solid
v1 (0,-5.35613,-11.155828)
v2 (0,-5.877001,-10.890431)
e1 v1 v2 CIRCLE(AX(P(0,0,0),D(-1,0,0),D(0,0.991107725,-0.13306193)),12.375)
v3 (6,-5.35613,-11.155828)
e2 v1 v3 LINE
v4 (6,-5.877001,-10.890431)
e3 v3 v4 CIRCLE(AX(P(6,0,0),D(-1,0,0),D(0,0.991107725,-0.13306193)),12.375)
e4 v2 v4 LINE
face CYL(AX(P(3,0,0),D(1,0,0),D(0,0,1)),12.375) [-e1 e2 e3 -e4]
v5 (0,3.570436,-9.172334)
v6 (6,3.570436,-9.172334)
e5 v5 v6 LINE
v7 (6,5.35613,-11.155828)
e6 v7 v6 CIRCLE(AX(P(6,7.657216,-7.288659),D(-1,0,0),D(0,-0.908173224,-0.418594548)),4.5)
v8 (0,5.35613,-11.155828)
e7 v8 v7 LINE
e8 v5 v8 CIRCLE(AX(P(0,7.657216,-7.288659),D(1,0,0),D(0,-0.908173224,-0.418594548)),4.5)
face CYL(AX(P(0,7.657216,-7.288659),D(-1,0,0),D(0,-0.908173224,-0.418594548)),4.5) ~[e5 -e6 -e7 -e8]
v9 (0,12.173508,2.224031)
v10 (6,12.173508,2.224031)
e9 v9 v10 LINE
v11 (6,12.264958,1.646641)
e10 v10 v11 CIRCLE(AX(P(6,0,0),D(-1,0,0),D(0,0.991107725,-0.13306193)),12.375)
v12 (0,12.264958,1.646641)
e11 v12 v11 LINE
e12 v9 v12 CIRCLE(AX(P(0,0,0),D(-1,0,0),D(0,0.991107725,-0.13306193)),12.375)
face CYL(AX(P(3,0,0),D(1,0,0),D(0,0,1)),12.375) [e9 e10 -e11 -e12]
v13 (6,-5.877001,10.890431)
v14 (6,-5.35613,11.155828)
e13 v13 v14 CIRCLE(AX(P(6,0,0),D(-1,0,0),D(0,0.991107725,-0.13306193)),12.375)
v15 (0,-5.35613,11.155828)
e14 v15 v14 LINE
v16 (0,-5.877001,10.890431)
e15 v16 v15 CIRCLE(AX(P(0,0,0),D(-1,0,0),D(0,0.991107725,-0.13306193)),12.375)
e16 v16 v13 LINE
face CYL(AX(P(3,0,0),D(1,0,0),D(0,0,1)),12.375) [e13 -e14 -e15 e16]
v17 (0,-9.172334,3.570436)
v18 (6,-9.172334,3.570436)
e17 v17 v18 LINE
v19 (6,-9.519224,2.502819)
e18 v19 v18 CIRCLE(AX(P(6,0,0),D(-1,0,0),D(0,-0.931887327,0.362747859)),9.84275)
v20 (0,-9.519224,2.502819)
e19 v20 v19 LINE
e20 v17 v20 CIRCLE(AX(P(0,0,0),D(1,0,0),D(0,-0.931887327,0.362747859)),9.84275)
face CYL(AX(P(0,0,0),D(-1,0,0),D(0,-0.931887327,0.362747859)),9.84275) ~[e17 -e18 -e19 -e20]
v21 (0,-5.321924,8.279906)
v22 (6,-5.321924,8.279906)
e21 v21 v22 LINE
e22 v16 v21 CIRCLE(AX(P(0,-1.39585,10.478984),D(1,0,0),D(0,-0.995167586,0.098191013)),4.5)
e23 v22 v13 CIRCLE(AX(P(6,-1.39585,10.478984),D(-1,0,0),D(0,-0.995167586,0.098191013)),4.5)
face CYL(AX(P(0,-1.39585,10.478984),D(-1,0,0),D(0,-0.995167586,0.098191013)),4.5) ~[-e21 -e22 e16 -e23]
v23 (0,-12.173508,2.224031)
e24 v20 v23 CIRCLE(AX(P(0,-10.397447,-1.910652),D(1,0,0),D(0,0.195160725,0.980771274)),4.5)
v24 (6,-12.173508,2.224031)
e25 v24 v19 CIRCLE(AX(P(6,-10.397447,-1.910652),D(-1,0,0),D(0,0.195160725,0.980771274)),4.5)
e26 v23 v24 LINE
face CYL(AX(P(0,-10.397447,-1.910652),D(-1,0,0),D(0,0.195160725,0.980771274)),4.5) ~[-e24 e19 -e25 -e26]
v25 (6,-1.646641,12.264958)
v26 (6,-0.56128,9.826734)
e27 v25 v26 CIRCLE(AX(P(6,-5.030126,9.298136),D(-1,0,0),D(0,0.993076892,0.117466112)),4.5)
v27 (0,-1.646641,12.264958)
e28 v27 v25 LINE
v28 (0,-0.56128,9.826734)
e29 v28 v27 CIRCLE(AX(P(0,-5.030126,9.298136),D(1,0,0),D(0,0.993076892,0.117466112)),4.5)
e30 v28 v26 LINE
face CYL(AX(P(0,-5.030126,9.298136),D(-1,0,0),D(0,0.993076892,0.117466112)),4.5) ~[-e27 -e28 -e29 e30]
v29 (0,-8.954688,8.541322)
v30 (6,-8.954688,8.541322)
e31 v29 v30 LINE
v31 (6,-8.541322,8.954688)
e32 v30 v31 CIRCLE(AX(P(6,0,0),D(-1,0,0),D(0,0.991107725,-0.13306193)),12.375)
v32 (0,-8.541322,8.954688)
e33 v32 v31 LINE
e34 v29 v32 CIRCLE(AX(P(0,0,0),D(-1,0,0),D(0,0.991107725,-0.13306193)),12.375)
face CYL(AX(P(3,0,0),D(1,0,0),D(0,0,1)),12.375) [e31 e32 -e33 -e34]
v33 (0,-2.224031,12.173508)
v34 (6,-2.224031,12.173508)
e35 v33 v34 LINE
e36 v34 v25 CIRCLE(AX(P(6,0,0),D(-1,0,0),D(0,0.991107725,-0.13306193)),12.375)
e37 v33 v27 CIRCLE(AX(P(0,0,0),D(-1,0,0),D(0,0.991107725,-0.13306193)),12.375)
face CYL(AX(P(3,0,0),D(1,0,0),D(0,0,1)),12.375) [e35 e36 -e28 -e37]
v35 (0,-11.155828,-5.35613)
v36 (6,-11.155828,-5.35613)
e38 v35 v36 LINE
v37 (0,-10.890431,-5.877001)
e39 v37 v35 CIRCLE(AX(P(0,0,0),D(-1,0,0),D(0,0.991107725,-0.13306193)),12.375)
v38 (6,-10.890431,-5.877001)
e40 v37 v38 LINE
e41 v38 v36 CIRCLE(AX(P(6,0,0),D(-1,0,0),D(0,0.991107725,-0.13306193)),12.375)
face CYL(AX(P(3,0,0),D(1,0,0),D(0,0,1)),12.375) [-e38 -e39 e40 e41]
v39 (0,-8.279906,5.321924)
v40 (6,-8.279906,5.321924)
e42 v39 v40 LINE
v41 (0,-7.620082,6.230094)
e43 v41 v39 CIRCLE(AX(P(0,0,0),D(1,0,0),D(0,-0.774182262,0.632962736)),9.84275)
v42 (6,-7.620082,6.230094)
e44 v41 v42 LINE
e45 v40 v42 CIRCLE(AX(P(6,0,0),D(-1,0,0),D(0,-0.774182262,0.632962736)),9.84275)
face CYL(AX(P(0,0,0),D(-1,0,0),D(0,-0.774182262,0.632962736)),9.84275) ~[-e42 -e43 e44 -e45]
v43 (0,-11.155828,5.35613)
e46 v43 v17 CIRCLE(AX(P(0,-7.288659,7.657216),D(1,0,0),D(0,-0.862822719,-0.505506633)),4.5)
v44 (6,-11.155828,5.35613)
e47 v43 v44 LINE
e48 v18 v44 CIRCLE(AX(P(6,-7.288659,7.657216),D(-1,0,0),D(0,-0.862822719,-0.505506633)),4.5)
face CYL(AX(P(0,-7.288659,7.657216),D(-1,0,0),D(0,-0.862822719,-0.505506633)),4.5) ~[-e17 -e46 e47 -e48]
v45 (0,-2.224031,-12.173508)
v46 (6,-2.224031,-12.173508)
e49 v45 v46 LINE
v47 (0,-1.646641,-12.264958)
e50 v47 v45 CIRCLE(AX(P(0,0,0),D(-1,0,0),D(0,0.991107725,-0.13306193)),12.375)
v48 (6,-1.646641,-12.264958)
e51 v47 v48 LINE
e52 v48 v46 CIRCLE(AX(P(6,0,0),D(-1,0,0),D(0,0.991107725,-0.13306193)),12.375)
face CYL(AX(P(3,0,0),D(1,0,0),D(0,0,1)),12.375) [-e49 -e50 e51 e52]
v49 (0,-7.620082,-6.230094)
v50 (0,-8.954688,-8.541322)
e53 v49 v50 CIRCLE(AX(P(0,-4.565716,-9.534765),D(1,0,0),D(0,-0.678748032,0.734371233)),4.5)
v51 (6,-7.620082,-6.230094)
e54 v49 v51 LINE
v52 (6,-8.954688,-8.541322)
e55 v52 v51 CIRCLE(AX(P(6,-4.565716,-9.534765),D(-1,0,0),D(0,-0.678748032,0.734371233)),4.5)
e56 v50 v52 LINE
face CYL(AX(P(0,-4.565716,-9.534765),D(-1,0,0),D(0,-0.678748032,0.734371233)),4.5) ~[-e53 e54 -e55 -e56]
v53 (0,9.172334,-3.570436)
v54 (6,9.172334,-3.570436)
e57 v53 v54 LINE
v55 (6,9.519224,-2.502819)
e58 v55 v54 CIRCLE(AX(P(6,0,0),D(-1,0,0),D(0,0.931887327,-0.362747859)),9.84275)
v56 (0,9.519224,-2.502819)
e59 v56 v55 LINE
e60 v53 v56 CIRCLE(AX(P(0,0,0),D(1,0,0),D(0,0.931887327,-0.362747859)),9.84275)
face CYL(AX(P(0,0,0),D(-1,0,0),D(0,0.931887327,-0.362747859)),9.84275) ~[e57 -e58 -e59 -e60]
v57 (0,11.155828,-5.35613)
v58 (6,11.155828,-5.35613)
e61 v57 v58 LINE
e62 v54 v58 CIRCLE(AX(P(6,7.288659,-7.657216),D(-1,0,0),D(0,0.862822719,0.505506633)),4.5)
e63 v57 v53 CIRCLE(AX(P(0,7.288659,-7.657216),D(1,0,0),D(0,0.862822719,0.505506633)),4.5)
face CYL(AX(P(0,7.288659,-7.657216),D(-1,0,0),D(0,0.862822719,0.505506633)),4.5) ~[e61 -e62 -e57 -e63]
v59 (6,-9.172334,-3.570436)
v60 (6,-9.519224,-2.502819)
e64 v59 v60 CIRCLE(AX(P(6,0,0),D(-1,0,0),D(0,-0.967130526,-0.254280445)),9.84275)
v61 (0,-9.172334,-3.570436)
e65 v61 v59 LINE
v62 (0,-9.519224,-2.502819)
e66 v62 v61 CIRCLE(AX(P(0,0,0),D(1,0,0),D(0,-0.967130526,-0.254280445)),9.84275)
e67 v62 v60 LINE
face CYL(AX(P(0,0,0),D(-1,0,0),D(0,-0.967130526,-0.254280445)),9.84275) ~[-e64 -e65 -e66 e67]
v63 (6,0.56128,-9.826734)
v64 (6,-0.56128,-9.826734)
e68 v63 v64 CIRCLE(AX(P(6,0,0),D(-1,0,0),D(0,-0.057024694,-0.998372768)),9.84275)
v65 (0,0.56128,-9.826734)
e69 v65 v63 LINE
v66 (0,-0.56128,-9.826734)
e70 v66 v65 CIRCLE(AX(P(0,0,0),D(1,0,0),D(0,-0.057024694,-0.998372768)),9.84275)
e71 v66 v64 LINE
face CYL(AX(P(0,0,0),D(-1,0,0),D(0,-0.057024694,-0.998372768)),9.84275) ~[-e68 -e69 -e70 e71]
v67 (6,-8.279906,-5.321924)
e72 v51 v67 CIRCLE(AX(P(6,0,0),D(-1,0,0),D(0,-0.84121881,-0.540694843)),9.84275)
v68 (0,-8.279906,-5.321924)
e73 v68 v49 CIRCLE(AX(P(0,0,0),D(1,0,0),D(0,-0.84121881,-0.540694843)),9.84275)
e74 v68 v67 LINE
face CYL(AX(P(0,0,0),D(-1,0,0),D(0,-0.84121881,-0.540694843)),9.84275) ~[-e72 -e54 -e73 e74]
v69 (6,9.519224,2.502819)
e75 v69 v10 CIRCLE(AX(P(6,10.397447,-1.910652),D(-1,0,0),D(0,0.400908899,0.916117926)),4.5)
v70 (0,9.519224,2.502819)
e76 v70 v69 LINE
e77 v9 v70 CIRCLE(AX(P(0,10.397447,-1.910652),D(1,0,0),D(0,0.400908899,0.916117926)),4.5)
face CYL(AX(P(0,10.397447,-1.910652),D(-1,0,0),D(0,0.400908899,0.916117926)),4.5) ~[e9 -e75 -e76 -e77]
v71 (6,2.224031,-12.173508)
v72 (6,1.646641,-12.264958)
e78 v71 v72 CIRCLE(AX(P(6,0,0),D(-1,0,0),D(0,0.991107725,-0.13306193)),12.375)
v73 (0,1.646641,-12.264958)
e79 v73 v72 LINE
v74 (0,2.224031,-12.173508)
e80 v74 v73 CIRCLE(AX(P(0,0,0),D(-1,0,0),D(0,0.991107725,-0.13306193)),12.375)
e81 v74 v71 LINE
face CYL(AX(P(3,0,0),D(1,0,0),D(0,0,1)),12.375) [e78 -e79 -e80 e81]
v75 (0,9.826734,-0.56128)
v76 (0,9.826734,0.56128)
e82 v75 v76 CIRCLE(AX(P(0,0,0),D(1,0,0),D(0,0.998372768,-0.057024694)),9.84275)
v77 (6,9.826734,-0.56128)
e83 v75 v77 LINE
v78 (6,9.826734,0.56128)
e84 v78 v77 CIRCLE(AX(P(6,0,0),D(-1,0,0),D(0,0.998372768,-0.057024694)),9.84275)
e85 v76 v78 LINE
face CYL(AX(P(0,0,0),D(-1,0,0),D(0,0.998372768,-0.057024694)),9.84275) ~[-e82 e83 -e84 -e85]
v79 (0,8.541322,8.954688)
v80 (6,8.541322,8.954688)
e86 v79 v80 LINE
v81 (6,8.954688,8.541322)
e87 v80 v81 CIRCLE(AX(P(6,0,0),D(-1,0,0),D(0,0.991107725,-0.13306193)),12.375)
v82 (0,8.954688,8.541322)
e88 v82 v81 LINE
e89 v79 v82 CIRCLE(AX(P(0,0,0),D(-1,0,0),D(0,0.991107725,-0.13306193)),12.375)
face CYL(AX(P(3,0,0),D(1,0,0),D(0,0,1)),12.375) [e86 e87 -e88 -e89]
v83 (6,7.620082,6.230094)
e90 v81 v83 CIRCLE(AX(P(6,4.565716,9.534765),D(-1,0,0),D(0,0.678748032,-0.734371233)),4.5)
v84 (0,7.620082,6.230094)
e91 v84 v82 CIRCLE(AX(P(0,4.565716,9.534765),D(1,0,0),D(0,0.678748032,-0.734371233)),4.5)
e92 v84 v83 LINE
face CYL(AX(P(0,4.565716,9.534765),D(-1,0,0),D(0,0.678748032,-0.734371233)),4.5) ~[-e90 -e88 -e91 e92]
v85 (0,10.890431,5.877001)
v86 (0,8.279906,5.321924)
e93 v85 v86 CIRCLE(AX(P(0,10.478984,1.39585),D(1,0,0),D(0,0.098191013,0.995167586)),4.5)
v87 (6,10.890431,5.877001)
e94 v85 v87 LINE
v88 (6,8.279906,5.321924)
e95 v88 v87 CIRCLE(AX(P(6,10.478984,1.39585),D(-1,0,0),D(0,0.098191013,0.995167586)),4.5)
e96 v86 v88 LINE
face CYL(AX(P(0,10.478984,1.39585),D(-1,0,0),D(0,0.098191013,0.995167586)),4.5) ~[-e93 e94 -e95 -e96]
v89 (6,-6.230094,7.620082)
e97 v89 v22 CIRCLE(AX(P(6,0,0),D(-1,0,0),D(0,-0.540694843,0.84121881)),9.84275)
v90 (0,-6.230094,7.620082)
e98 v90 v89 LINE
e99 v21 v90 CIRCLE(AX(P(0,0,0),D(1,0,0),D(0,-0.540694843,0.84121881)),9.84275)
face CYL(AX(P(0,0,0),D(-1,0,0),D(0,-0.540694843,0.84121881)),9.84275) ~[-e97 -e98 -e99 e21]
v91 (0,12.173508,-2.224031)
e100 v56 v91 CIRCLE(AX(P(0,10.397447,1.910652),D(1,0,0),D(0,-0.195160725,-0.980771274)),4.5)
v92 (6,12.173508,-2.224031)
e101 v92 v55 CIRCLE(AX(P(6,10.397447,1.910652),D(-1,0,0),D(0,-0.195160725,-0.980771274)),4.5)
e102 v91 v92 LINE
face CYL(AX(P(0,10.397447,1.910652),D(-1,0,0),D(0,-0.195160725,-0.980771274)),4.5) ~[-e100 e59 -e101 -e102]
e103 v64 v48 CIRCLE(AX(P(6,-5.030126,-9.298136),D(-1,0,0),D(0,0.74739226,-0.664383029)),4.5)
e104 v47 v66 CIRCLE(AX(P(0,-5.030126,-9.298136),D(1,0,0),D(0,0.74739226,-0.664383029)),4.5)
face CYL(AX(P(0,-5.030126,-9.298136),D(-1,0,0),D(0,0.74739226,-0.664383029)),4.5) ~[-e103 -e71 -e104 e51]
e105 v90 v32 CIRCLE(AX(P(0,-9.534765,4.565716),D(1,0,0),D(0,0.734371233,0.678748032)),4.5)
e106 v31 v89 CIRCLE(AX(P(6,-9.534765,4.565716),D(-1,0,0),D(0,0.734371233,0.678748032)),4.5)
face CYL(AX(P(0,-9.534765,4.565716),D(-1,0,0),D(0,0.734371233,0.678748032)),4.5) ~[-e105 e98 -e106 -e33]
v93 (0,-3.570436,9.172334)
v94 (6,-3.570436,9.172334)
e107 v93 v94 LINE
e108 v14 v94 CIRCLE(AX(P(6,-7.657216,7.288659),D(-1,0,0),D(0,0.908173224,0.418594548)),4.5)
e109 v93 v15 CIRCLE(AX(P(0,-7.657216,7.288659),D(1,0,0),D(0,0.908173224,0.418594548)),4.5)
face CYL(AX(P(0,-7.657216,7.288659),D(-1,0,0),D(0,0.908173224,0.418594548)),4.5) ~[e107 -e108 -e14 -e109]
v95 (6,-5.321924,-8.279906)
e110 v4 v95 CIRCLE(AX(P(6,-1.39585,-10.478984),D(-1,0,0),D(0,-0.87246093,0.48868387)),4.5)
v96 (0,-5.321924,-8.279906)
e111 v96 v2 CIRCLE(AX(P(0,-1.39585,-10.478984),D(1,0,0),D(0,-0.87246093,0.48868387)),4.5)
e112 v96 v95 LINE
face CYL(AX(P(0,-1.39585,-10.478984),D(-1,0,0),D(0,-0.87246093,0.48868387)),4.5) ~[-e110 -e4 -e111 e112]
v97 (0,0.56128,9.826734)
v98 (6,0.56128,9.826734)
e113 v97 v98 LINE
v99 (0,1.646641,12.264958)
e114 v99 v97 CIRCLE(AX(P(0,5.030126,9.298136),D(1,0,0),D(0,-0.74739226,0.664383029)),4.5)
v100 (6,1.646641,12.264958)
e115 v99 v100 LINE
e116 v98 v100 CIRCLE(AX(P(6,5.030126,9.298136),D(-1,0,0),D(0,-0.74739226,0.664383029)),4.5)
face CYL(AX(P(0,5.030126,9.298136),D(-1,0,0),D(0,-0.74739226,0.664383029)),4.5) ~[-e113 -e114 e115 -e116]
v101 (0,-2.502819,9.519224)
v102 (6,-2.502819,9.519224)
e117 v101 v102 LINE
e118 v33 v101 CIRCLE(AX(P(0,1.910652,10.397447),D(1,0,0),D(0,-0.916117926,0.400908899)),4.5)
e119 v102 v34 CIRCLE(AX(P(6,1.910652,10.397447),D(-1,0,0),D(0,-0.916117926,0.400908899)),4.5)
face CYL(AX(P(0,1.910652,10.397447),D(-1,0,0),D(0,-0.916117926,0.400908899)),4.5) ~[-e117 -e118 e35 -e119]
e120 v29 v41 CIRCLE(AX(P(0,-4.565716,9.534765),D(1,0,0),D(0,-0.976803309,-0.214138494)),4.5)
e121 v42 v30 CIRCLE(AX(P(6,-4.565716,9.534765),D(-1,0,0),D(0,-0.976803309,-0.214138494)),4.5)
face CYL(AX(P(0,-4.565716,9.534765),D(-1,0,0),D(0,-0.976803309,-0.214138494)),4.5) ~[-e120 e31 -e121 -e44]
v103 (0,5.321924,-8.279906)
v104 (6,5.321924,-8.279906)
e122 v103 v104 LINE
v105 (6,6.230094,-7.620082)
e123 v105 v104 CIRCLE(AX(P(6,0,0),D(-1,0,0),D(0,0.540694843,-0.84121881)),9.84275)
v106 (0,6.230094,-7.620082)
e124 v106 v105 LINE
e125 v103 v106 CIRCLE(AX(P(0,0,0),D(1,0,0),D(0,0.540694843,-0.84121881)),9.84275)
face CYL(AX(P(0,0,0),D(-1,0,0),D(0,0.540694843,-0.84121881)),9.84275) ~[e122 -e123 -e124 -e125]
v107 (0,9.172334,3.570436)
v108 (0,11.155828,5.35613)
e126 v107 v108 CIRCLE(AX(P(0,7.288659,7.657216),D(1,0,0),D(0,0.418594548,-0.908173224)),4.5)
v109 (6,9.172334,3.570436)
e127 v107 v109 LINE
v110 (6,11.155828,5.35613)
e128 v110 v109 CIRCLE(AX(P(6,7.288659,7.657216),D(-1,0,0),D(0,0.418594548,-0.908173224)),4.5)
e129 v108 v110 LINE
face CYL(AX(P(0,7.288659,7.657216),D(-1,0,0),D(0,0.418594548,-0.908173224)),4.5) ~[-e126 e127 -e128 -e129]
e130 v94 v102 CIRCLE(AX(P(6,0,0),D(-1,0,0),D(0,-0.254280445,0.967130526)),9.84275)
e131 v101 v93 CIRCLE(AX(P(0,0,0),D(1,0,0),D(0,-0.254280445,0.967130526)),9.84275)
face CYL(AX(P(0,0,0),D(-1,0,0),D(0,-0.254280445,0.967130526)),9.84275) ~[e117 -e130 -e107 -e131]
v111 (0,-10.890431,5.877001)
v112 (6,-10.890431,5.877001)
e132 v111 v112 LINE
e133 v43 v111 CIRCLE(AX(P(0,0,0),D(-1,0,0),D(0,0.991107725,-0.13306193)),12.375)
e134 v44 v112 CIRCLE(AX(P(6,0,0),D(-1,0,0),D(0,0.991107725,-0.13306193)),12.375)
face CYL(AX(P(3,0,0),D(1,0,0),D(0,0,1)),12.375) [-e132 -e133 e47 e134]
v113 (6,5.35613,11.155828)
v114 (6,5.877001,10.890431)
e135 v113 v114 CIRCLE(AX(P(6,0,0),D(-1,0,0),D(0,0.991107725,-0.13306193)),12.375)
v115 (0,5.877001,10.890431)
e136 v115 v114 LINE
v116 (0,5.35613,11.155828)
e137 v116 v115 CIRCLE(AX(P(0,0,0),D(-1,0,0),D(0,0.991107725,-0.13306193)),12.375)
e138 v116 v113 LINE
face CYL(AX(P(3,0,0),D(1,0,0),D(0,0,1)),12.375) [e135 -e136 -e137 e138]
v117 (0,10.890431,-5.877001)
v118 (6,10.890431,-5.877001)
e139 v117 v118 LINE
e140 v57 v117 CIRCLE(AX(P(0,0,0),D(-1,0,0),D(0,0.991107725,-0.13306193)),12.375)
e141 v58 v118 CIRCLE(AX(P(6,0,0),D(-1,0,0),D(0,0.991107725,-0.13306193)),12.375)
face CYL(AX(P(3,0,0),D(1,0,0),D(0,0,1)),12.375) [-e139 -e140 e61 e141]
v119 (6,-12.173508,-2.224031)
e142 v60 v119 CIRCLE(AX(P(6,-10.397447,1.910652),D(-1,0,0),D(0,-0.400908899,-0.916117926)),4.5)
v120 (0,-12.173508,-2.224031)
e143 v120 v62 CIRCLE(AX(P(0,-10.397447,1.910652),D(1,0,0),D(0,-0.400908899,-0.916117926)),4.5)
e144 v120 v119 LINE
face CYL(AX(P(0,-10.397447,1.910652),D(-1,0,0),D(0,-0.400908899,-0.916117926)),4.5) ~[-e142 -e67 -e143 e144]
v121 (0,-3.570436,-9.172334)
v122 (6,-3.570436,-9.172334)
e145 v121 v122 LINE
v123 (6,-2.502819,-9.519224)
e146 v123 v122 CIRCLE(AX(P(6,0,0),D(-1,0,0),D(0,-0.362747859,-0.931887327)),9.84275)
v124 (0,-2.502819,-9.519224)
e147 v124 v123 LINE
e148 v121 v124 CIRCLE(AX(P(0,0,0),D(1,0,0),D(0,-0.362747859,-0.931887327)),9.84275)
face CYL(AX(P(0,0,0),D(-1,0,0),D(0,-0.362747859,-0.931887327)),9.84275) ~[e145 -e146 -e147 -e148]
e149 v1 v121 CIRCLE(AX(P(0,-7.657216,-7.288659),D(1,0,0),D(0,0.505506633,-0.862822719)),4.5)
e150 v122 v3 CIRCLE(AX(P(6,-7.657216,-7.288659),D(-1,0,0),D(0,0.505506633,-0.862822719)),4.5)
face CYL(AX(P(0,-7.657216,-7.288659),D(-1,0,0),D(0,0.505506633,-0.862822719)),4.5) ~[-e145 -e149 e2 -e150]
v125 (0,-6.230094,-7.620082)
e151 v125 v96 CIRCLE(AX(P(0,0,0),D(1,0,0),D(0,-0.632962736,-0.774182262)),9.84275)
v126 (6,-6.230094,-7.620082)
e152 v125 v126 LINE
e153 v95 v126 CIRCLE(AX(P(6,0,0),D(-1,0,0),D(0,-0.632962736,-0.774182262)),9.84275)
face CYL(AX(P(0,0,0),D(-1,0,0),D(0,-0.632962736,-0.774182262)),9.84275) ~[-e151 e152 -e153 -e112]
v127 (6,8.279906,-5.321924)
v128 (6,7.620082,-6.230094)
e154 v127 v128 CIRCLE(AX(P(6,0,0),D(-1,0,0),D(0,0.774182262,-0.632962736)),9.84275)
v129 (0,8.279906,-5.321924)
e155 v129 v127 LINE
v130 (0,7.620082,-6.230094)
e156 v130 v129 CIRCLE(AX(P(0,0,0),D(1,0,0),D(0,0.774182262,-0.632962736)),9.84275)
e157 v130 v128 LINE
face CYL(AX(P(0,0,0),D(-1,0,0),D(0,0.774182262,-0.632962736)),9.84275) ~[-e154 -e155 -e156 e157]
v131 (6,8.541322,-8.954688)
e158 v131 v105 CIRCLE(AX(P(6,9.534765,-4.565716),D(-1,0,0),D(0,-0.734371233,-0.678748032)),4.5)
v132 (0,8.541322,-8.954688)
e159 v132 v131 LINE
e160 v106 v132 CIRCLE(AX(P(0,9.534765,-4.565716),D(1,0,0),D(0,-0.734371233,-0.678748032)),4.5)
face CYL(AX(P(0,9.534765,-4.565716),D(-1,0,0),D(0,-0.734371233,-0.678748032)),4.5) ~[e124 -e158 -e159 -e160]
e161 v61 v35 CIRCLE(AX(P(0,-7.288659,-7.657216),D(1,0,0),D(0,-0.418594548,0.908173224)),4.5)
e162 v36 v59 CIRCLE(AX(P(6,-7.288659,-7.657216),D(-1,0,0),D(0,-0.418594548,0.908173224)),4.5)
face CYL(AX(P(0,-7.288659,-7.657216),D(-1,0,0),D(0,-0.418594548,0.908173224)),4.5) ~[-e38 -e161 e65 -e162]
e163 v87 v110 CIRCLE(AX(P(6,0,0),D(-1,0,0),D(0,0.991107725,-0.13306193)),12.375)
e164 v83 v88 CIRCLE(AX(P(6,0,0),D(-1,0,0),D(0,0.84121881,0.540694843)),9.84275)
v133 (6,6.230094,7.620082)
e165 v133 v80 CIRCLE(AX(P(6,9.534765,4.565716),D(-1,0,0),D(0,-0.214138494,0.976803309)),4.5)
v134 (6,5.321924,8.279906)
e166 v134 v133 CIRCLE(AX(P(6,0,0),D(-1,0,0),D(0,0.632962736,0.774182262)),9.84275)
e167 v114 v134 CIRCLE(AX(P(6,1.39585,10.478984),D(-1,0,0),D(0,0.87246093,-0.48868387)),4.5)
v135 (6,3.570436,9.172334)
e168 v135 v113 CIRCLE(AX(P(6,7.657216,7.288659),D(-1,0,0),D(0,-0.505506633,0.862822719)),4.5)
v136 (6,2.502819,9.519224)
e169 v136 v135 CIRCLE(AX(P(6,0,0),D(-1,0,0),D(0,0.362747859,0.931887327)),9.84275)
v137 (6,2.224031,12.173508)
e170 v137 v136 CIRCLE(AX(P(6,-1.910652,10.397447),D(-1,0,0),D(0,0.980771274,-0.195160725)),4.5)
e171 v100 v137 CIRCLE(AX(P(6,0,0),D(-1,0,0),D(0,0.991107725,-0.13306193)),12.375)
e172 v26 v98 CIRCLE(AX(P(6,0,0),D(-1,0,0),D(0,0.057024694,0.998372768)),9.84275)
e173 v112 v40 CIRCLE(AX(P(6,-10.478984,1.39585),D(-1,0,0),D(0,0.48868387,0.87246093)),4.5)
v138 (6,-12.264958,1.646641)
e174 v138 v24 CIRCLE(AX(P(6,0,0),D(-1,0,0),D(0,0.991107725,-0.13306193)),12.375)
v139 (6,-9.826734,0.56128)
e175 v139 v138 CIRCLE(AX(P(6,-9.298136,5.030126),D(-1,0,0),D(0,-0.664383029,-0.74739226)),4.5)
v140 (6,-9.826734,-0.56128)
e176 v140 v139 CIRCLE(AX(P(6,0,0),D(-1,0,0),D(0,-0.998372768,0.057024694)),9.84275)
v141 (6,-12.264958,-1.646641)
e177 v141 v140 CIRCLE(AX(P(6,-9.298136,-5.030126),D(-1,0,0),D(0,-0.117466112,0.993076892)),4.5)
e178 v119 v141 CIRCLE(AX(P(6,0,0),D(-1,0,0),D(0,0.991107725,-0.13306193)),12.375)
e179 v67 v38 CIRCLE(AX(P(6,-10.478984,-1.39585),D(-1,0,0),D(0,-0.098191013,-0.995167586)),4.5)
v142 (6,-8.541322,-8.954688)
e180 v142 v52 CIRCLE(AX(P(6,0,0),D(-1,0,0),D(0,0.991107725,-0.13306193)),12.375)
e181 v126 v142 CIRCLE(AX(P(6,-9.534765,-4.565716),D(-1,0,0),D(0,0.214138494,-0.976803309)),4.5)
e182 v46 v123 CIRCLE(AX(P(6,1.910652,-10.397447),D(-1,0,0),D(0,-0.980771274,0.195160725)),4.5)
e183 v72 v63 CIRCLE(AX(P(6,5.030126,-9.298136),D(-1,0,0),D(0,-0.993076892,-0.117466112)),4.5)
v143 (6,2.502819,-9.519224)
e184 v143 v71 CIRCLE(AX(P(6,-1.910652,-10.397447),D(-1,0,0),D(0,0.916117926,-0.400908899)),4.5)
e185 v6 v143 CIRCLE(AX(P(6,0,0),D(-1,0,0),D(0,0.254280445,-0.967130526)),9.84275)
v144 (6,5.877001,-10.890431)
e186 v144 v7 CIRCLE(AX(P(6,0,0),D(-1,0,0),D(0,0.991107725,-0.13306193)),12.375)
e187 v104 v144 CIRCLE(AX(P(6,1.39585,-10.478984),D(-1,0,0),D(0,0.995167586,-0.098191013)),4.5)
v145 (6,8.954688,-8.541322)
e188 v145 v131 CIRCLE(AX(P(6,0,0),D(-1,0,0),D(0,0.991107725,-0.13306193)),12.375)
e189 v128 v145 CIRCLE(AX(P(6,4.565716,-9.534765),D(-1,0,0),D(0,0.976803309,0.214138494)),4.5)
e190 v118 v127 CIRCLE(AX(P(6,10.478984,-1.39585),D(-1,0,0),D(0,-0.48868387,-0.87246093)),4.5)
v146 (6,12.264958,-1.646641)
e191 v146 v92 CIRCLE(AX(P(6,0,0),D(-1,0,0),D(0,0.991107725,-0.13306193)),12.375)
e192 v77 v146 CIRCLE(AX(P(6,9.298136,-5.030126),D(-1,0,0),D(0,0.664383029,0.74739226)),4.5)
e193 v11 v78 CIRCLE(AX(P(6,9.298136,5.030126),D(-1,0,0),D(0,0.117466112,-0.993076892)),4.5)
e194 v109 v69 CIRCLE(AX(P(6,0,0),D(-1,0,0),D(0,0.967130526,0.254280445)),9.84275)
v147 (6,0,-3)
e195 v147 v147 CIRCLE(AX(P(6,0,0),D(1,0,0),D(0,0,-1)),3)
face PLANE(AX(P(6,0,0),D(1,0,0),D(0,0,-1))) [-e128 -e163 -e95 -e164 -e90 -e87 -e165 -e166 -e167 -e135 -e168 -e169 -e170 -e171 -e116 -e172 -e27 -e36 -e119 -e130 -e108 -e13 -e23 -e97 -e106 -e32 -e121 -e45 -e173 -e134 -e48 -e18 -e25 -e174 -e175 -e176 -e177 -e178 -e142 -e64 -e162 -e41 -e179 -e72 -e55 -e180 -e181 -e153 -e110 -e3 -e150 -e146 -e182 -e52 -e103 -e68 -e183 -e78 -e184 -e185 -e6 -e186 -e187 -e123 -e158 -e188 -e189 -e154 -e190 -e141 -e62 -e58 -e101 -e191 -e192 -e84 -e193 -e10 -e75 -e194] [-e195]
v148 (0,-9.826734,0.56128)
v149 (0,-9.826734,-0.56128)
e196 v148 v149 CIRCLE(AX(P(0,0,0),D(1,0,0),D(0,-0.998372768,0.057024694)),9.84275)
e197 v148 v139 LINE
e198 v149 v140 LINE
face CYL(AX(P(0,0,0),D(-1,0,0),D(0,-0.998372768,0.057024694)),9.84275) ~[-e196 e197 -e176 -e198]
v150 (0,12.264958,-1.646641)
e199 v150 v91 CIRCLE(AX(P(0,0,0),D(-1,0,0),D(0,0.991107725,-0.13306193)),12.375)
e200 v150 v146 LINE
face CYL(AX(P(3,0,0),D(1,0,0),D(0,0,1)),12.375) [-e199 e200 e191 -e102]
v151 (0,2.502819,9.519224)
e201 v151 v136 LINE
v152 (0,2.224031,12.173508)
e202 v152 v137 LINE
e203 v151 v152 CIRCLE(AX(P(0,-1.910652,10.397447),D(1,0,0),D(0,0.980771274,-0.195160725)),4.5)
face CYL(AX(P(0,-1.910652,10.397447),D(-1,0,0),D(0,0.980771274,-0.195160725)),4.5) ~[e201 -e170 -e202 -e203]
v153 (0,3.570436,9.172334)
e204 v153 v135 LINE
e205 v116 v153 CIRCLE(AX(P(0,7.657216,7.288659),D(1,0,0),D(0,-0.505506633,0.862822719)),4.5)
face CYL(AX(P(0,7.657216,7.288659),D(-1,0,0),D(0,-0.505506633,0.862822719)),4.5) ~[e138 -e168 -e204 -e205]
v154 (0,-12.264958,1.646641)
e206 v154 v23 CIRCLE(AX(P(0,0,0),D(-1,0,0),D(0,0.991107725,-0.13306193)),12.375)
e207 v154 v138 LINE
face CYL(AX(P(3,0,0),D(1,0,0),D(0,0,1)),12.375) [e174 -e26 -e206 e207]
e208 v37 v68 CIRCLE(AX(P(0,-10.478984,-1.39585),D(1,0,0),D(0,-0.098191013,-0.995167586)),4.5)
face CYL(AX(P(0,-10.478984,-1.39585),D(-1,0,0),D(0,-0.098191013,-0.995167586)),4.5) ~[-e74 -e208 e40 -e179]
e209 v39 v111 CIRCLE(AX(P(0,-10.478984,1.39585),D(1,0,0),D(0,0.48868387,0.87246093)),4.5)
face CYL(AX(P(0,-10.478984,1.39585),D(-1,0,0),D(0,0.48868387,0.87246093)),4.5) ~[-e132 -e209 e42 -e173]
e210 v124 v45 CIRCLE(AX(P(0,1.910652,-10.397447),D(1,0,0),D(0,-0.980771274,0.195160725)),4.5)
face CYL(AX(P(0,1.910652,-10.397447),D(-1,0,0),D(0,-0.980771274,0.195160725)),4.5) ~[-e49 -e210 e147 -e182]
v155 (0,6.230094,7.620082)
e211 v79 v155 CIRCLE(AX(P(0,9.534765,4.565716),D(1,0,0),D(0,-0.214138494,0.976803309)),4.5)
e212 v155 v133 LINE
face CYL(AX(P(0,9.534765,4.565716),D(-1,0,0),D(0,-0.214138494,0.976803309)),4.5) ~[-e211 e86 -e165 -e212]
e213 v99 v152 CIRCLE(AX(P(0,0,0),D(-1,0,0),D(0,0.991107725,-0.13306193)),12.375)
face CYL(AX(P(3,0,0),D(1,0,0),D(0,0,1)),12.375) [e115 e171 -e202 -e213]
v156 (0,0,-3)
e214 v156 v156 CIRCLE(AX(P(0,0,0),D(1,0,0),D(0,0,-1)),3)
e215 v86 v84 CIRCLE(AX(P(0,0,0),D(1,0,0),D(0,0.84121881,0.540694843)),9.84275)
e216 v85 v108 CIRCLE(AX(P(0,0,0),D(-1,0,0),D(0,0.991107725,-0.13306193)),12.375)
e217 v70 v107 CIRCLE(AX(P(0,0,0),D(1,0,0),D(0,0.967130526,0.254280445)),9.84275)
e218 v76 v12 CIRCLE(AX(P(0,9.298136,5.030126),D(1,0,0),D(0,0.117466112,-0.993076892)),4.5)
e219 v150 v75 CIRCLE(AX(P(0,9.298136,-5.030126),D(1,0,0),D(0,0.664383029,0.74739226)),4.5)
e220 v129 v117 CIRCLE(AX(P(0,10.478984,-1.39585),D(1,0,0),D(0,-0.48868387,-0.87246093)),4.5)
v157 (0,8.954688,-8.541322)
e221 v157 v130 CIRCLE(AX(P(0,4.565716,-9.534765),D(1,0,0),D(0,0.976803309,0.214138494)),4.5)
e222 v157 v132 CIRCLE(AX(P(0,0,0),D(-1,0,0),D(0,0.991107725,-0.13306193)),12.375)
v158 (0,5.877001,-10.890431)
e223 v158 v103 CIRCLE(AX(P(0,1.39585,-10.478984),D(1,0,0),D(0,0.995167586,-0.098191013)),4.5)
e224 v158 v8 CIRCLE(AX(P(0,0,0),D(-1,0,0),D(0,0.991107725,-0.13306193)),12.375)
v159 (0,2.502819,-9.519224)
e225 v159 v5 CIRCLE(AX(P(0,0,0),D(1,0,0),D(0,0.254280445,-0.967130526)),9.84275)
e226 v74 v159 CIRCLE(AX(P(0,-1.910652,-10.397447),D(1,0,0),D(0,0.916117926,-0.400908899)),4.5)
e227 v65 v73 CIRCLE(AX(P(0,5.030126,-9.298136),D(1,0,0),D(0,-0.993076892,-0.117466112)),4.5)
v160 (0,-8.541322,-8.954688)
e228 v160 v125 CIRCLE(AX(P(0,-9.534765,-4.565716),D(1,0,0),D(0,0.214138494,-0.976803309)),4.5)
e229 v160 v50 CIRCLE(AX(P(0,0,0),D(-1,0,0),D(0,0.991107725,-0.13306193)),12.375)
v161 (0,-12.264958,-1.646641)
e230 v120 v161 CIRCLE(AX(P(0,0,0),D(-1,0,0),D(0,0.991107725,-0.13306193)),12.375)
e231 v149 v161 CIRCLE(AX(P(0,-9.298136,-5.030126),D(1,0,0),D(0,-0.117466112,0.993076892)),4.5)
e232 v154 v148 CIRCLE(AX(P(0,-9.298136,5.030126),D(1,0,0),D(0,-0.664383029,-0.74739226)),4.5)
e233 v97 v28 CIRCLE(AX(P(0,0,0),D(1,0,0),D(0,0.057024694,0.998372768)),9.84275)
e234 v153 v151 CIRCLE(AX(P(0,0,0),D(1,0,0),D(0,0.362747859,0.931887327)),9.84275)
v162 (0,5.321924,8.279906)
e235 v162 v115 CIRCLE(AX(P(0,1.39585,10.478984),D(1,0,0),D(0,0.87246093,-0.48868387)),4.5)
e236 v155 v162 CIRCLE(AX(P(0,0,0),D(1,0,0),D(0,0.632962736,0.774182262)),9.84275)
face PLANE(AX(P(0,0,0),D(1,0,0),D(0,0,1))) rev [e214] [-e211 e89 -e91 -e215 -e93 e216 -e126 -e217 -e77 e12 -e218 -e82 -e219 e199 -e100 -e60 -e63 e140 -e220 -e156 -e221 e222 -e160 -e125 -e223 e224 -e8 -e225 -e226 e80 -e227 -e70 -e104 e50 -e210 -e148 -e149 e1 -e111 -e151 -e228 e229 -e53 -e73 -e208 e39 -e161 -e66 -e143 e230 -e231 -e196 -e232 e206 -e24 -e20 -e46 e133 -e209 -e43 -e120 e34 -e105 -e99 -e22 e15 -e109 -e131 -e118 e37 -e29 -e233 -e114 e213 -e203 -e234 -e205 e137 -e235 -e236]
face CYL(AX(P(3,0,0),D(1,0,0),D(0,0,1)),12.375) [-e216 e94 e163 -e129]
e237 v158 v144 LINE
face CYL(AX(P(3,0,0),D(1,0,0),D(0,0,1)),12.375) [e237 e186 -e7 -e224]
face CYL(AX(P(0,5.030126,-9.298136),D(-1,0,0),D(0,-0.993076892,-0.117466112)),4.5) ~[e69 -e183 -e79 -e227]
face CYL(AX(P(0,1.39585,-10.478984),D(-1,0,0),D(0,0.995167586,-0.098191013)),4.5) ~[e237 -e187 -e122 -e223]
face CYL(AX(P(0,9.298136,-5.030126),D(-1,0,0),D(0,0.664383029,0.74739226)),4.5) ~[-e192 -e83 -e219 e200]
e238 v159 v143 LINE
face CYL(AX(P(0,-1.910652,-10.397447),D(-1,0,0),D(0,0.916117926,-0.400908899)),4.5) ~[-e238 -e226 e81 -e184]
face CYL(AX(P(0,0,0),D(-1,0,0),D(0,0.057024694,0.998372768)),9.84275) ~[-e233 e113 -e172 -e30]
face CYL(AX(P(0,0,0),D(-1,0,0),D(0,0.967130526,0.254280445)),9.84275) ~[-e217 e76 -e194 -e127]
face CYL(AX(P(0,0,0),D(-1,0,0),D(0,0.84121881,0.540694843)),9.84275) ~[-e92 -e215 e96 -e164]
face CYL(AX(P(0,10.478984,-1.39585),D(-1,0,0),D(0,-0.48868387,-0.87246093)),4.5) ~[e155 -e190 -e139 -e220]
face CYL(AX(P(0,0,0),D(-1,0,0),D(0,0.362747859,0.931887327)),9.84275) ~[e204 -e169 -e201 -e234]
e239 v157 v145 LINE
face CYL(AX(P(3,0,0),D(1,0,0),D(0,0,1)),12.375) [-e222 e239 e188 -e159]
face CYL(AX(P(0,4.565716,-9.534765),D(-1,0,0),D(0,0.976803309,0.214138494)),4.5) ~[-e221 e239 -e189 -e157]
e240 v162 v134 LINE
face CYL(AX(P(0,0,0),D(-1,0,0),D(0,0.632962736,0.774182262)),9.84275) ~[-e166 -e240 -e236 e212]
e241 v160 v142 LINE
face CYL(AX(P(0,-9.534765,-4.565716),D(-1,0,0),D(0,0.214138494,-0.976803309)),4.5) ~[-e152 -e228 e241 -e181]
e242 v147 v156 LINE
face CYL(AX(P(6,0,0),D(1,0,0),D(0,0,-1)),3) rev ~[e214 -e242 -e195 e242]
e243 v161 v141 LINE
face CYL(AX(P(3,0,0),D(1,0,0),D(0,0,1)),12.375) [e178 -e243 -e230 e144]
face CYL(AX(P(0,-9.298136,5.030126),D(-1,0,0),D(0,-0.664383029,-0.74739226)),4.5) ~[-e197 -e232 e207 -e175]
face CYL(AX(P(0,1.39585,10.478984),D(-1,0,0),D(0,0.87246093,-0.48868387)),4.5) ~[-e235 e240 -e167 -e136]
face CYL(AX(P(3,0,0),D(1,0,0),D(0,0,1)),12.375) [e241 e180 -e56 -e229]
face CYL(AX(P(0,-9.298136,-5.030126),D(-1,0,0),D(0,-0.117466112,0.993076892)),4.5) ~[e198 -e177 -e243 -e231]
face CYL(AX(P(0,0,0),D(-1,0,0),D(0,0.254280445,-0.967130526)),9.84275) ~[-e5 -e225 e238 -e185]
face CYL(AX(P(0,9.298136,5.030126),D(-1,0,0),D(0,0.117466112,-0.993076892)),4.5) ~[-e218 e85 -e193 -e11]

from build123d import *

# Parameters (mm, degrees)
BASPROSKE_W         = 6
BASPROSKE_H         = 12.375
TOOTHCUT_DEPTH      = 19.500844575
TEETHCUTS_COUNT     = 20
BORSKE_R            = 3
BORE_DEPTH          = 50.0000508
SKETCH1_R           = 3
BOSS_EXTRUDE1_DEPTH = 6
CUT_EXTRUDE1_DEPTH  = 6
SKETCH3_R           = 3
CUT_EXTRUDE2_DEPTH  = 6


with BuildPart() as part:
    # BasProSke → Base-Revolve (revolve)
    with BuildSketch(Plane(origin=(0, 0, 0), x_dir=(1, 0, 0), z_dir=(0, 1, 0)), mode=Mode.PRIVATE) as base_revolve_sk:
        with Locations((3, 6.1875)):
            Rectangle(BASPROSKE_W, BASPROSKE_H)
    revolve(base_revolve_sk.sketch.rotate(Axis((-10, 0, 0), (1, 0, 0)), 180), axis=Axis((-10, 0, 0), (1, 0, 0)))

    # TooCutSke → ToothCut (cut, through all)
    with BuildSketch(Plane(origin=(0, 0, 0), x_dir=(0, 0, -1), z_dir=(1, 0, 0))):
        with BuildLine():
            ThreePointArc((0.561279811, 9.826733564), (0, 9.84275), (-0.561279811, 9.826733564))
            ThreePointArc((-0.561279811, 9.826733564), (-0.925277854, 11.14210546), (-1.666860651, 12.287859689))
            ThreePointArc((-1.666860651, 12.287859689), (0, 12.4004), (1.666860651, 12.287859689))
            ThreePointArc((1.666860651, 12.287859689), (0.925277854, 11.14210546), (0.561279811, 9.826733564))
        make_face()
    toothcut = extrude(amount=TOOTHCUT_DEPTH, mode=Mode.SUBTRACT)

    # TeethCuts: ToothCut ×20 about axis
    teethcuts_axis = Axis((0, 0, 0), (1, 0, 0))
    for i in range(1, TEETHCUTS_COUNT):
        add(toothcut.rotate(teethcuts_axis, i * 360 / TEETHCUTS_COUNT), mode=Mode.SUBTRACT)

    # BorSke → Bore (cut, symmetric)
    with BuildSketch(Plane(origin=(0, 0, 0), x_dir=(0, 0, -1), z_dir=(1, 0, 0))):
        with Locations(Location((0, 0, 0), (0, 0, 180))):
            Circle(BORSKE_R)
    extrude(amount=BORE_DEPTH, both=True, mode=Mode.SUBTRACT)

    # Sketch1 → Boss-Extrude1 (add)
    with BuildSketch(Plane(origin=(6, 0, 0), x_dir=(0, 0, -1), z_dir=(1, 0, 0))):
        Circle(SKETCH1_R)
    extrude(amount=-BOSS_EXTRUDE1_DEPTH)

    # Sketch2 → Cut-Extrude1 (cut)
    with BuildSketch(Plane(origin=(6, 0, 0), x_dir=(0, 0, -1), z_dir=(1, 0, 0))):
        with BuildLine():
            ThreePointArc((1.8, 2.01246118), (0, 2.7), (-1.8, 2.01246118))
            Line((-1.8, 2.01246118), (-1.8, 0))
            Line((-1.8, 0), (1.8, 0))
            Line((1.8, 0), (1.8, 2.01246118))
        make_face()
        with BuildLine():
            Line((1.8, 0), (-1.8, 0))
            Line((-1.8, 0), (-1.8, -2.01246118))
            ThreePointArc((-1.8, -2.01246118), (0, -2.7), (1.8, -2.01246118))
            Line((1.8, -2.01246118), (1.8, 0))
        make_face()
    extrude(amount=-CUT_EXTRUDE1_DEPTH, mode=Mode.SUBTRACT)

    # Sketch3 → Cut-Extrude2 (cut)
    with BuildSketch(Plane(origin=(6, 0, 0), x_dir=(0, 0, -1), z_dir=(1, 0, 0))):
        Circle(SKETCH3_R)
    extrude(amount=-CUT_EXTRUDE2_DEPTH, mode=Mode.SUBTRACT)


solid = part.part
